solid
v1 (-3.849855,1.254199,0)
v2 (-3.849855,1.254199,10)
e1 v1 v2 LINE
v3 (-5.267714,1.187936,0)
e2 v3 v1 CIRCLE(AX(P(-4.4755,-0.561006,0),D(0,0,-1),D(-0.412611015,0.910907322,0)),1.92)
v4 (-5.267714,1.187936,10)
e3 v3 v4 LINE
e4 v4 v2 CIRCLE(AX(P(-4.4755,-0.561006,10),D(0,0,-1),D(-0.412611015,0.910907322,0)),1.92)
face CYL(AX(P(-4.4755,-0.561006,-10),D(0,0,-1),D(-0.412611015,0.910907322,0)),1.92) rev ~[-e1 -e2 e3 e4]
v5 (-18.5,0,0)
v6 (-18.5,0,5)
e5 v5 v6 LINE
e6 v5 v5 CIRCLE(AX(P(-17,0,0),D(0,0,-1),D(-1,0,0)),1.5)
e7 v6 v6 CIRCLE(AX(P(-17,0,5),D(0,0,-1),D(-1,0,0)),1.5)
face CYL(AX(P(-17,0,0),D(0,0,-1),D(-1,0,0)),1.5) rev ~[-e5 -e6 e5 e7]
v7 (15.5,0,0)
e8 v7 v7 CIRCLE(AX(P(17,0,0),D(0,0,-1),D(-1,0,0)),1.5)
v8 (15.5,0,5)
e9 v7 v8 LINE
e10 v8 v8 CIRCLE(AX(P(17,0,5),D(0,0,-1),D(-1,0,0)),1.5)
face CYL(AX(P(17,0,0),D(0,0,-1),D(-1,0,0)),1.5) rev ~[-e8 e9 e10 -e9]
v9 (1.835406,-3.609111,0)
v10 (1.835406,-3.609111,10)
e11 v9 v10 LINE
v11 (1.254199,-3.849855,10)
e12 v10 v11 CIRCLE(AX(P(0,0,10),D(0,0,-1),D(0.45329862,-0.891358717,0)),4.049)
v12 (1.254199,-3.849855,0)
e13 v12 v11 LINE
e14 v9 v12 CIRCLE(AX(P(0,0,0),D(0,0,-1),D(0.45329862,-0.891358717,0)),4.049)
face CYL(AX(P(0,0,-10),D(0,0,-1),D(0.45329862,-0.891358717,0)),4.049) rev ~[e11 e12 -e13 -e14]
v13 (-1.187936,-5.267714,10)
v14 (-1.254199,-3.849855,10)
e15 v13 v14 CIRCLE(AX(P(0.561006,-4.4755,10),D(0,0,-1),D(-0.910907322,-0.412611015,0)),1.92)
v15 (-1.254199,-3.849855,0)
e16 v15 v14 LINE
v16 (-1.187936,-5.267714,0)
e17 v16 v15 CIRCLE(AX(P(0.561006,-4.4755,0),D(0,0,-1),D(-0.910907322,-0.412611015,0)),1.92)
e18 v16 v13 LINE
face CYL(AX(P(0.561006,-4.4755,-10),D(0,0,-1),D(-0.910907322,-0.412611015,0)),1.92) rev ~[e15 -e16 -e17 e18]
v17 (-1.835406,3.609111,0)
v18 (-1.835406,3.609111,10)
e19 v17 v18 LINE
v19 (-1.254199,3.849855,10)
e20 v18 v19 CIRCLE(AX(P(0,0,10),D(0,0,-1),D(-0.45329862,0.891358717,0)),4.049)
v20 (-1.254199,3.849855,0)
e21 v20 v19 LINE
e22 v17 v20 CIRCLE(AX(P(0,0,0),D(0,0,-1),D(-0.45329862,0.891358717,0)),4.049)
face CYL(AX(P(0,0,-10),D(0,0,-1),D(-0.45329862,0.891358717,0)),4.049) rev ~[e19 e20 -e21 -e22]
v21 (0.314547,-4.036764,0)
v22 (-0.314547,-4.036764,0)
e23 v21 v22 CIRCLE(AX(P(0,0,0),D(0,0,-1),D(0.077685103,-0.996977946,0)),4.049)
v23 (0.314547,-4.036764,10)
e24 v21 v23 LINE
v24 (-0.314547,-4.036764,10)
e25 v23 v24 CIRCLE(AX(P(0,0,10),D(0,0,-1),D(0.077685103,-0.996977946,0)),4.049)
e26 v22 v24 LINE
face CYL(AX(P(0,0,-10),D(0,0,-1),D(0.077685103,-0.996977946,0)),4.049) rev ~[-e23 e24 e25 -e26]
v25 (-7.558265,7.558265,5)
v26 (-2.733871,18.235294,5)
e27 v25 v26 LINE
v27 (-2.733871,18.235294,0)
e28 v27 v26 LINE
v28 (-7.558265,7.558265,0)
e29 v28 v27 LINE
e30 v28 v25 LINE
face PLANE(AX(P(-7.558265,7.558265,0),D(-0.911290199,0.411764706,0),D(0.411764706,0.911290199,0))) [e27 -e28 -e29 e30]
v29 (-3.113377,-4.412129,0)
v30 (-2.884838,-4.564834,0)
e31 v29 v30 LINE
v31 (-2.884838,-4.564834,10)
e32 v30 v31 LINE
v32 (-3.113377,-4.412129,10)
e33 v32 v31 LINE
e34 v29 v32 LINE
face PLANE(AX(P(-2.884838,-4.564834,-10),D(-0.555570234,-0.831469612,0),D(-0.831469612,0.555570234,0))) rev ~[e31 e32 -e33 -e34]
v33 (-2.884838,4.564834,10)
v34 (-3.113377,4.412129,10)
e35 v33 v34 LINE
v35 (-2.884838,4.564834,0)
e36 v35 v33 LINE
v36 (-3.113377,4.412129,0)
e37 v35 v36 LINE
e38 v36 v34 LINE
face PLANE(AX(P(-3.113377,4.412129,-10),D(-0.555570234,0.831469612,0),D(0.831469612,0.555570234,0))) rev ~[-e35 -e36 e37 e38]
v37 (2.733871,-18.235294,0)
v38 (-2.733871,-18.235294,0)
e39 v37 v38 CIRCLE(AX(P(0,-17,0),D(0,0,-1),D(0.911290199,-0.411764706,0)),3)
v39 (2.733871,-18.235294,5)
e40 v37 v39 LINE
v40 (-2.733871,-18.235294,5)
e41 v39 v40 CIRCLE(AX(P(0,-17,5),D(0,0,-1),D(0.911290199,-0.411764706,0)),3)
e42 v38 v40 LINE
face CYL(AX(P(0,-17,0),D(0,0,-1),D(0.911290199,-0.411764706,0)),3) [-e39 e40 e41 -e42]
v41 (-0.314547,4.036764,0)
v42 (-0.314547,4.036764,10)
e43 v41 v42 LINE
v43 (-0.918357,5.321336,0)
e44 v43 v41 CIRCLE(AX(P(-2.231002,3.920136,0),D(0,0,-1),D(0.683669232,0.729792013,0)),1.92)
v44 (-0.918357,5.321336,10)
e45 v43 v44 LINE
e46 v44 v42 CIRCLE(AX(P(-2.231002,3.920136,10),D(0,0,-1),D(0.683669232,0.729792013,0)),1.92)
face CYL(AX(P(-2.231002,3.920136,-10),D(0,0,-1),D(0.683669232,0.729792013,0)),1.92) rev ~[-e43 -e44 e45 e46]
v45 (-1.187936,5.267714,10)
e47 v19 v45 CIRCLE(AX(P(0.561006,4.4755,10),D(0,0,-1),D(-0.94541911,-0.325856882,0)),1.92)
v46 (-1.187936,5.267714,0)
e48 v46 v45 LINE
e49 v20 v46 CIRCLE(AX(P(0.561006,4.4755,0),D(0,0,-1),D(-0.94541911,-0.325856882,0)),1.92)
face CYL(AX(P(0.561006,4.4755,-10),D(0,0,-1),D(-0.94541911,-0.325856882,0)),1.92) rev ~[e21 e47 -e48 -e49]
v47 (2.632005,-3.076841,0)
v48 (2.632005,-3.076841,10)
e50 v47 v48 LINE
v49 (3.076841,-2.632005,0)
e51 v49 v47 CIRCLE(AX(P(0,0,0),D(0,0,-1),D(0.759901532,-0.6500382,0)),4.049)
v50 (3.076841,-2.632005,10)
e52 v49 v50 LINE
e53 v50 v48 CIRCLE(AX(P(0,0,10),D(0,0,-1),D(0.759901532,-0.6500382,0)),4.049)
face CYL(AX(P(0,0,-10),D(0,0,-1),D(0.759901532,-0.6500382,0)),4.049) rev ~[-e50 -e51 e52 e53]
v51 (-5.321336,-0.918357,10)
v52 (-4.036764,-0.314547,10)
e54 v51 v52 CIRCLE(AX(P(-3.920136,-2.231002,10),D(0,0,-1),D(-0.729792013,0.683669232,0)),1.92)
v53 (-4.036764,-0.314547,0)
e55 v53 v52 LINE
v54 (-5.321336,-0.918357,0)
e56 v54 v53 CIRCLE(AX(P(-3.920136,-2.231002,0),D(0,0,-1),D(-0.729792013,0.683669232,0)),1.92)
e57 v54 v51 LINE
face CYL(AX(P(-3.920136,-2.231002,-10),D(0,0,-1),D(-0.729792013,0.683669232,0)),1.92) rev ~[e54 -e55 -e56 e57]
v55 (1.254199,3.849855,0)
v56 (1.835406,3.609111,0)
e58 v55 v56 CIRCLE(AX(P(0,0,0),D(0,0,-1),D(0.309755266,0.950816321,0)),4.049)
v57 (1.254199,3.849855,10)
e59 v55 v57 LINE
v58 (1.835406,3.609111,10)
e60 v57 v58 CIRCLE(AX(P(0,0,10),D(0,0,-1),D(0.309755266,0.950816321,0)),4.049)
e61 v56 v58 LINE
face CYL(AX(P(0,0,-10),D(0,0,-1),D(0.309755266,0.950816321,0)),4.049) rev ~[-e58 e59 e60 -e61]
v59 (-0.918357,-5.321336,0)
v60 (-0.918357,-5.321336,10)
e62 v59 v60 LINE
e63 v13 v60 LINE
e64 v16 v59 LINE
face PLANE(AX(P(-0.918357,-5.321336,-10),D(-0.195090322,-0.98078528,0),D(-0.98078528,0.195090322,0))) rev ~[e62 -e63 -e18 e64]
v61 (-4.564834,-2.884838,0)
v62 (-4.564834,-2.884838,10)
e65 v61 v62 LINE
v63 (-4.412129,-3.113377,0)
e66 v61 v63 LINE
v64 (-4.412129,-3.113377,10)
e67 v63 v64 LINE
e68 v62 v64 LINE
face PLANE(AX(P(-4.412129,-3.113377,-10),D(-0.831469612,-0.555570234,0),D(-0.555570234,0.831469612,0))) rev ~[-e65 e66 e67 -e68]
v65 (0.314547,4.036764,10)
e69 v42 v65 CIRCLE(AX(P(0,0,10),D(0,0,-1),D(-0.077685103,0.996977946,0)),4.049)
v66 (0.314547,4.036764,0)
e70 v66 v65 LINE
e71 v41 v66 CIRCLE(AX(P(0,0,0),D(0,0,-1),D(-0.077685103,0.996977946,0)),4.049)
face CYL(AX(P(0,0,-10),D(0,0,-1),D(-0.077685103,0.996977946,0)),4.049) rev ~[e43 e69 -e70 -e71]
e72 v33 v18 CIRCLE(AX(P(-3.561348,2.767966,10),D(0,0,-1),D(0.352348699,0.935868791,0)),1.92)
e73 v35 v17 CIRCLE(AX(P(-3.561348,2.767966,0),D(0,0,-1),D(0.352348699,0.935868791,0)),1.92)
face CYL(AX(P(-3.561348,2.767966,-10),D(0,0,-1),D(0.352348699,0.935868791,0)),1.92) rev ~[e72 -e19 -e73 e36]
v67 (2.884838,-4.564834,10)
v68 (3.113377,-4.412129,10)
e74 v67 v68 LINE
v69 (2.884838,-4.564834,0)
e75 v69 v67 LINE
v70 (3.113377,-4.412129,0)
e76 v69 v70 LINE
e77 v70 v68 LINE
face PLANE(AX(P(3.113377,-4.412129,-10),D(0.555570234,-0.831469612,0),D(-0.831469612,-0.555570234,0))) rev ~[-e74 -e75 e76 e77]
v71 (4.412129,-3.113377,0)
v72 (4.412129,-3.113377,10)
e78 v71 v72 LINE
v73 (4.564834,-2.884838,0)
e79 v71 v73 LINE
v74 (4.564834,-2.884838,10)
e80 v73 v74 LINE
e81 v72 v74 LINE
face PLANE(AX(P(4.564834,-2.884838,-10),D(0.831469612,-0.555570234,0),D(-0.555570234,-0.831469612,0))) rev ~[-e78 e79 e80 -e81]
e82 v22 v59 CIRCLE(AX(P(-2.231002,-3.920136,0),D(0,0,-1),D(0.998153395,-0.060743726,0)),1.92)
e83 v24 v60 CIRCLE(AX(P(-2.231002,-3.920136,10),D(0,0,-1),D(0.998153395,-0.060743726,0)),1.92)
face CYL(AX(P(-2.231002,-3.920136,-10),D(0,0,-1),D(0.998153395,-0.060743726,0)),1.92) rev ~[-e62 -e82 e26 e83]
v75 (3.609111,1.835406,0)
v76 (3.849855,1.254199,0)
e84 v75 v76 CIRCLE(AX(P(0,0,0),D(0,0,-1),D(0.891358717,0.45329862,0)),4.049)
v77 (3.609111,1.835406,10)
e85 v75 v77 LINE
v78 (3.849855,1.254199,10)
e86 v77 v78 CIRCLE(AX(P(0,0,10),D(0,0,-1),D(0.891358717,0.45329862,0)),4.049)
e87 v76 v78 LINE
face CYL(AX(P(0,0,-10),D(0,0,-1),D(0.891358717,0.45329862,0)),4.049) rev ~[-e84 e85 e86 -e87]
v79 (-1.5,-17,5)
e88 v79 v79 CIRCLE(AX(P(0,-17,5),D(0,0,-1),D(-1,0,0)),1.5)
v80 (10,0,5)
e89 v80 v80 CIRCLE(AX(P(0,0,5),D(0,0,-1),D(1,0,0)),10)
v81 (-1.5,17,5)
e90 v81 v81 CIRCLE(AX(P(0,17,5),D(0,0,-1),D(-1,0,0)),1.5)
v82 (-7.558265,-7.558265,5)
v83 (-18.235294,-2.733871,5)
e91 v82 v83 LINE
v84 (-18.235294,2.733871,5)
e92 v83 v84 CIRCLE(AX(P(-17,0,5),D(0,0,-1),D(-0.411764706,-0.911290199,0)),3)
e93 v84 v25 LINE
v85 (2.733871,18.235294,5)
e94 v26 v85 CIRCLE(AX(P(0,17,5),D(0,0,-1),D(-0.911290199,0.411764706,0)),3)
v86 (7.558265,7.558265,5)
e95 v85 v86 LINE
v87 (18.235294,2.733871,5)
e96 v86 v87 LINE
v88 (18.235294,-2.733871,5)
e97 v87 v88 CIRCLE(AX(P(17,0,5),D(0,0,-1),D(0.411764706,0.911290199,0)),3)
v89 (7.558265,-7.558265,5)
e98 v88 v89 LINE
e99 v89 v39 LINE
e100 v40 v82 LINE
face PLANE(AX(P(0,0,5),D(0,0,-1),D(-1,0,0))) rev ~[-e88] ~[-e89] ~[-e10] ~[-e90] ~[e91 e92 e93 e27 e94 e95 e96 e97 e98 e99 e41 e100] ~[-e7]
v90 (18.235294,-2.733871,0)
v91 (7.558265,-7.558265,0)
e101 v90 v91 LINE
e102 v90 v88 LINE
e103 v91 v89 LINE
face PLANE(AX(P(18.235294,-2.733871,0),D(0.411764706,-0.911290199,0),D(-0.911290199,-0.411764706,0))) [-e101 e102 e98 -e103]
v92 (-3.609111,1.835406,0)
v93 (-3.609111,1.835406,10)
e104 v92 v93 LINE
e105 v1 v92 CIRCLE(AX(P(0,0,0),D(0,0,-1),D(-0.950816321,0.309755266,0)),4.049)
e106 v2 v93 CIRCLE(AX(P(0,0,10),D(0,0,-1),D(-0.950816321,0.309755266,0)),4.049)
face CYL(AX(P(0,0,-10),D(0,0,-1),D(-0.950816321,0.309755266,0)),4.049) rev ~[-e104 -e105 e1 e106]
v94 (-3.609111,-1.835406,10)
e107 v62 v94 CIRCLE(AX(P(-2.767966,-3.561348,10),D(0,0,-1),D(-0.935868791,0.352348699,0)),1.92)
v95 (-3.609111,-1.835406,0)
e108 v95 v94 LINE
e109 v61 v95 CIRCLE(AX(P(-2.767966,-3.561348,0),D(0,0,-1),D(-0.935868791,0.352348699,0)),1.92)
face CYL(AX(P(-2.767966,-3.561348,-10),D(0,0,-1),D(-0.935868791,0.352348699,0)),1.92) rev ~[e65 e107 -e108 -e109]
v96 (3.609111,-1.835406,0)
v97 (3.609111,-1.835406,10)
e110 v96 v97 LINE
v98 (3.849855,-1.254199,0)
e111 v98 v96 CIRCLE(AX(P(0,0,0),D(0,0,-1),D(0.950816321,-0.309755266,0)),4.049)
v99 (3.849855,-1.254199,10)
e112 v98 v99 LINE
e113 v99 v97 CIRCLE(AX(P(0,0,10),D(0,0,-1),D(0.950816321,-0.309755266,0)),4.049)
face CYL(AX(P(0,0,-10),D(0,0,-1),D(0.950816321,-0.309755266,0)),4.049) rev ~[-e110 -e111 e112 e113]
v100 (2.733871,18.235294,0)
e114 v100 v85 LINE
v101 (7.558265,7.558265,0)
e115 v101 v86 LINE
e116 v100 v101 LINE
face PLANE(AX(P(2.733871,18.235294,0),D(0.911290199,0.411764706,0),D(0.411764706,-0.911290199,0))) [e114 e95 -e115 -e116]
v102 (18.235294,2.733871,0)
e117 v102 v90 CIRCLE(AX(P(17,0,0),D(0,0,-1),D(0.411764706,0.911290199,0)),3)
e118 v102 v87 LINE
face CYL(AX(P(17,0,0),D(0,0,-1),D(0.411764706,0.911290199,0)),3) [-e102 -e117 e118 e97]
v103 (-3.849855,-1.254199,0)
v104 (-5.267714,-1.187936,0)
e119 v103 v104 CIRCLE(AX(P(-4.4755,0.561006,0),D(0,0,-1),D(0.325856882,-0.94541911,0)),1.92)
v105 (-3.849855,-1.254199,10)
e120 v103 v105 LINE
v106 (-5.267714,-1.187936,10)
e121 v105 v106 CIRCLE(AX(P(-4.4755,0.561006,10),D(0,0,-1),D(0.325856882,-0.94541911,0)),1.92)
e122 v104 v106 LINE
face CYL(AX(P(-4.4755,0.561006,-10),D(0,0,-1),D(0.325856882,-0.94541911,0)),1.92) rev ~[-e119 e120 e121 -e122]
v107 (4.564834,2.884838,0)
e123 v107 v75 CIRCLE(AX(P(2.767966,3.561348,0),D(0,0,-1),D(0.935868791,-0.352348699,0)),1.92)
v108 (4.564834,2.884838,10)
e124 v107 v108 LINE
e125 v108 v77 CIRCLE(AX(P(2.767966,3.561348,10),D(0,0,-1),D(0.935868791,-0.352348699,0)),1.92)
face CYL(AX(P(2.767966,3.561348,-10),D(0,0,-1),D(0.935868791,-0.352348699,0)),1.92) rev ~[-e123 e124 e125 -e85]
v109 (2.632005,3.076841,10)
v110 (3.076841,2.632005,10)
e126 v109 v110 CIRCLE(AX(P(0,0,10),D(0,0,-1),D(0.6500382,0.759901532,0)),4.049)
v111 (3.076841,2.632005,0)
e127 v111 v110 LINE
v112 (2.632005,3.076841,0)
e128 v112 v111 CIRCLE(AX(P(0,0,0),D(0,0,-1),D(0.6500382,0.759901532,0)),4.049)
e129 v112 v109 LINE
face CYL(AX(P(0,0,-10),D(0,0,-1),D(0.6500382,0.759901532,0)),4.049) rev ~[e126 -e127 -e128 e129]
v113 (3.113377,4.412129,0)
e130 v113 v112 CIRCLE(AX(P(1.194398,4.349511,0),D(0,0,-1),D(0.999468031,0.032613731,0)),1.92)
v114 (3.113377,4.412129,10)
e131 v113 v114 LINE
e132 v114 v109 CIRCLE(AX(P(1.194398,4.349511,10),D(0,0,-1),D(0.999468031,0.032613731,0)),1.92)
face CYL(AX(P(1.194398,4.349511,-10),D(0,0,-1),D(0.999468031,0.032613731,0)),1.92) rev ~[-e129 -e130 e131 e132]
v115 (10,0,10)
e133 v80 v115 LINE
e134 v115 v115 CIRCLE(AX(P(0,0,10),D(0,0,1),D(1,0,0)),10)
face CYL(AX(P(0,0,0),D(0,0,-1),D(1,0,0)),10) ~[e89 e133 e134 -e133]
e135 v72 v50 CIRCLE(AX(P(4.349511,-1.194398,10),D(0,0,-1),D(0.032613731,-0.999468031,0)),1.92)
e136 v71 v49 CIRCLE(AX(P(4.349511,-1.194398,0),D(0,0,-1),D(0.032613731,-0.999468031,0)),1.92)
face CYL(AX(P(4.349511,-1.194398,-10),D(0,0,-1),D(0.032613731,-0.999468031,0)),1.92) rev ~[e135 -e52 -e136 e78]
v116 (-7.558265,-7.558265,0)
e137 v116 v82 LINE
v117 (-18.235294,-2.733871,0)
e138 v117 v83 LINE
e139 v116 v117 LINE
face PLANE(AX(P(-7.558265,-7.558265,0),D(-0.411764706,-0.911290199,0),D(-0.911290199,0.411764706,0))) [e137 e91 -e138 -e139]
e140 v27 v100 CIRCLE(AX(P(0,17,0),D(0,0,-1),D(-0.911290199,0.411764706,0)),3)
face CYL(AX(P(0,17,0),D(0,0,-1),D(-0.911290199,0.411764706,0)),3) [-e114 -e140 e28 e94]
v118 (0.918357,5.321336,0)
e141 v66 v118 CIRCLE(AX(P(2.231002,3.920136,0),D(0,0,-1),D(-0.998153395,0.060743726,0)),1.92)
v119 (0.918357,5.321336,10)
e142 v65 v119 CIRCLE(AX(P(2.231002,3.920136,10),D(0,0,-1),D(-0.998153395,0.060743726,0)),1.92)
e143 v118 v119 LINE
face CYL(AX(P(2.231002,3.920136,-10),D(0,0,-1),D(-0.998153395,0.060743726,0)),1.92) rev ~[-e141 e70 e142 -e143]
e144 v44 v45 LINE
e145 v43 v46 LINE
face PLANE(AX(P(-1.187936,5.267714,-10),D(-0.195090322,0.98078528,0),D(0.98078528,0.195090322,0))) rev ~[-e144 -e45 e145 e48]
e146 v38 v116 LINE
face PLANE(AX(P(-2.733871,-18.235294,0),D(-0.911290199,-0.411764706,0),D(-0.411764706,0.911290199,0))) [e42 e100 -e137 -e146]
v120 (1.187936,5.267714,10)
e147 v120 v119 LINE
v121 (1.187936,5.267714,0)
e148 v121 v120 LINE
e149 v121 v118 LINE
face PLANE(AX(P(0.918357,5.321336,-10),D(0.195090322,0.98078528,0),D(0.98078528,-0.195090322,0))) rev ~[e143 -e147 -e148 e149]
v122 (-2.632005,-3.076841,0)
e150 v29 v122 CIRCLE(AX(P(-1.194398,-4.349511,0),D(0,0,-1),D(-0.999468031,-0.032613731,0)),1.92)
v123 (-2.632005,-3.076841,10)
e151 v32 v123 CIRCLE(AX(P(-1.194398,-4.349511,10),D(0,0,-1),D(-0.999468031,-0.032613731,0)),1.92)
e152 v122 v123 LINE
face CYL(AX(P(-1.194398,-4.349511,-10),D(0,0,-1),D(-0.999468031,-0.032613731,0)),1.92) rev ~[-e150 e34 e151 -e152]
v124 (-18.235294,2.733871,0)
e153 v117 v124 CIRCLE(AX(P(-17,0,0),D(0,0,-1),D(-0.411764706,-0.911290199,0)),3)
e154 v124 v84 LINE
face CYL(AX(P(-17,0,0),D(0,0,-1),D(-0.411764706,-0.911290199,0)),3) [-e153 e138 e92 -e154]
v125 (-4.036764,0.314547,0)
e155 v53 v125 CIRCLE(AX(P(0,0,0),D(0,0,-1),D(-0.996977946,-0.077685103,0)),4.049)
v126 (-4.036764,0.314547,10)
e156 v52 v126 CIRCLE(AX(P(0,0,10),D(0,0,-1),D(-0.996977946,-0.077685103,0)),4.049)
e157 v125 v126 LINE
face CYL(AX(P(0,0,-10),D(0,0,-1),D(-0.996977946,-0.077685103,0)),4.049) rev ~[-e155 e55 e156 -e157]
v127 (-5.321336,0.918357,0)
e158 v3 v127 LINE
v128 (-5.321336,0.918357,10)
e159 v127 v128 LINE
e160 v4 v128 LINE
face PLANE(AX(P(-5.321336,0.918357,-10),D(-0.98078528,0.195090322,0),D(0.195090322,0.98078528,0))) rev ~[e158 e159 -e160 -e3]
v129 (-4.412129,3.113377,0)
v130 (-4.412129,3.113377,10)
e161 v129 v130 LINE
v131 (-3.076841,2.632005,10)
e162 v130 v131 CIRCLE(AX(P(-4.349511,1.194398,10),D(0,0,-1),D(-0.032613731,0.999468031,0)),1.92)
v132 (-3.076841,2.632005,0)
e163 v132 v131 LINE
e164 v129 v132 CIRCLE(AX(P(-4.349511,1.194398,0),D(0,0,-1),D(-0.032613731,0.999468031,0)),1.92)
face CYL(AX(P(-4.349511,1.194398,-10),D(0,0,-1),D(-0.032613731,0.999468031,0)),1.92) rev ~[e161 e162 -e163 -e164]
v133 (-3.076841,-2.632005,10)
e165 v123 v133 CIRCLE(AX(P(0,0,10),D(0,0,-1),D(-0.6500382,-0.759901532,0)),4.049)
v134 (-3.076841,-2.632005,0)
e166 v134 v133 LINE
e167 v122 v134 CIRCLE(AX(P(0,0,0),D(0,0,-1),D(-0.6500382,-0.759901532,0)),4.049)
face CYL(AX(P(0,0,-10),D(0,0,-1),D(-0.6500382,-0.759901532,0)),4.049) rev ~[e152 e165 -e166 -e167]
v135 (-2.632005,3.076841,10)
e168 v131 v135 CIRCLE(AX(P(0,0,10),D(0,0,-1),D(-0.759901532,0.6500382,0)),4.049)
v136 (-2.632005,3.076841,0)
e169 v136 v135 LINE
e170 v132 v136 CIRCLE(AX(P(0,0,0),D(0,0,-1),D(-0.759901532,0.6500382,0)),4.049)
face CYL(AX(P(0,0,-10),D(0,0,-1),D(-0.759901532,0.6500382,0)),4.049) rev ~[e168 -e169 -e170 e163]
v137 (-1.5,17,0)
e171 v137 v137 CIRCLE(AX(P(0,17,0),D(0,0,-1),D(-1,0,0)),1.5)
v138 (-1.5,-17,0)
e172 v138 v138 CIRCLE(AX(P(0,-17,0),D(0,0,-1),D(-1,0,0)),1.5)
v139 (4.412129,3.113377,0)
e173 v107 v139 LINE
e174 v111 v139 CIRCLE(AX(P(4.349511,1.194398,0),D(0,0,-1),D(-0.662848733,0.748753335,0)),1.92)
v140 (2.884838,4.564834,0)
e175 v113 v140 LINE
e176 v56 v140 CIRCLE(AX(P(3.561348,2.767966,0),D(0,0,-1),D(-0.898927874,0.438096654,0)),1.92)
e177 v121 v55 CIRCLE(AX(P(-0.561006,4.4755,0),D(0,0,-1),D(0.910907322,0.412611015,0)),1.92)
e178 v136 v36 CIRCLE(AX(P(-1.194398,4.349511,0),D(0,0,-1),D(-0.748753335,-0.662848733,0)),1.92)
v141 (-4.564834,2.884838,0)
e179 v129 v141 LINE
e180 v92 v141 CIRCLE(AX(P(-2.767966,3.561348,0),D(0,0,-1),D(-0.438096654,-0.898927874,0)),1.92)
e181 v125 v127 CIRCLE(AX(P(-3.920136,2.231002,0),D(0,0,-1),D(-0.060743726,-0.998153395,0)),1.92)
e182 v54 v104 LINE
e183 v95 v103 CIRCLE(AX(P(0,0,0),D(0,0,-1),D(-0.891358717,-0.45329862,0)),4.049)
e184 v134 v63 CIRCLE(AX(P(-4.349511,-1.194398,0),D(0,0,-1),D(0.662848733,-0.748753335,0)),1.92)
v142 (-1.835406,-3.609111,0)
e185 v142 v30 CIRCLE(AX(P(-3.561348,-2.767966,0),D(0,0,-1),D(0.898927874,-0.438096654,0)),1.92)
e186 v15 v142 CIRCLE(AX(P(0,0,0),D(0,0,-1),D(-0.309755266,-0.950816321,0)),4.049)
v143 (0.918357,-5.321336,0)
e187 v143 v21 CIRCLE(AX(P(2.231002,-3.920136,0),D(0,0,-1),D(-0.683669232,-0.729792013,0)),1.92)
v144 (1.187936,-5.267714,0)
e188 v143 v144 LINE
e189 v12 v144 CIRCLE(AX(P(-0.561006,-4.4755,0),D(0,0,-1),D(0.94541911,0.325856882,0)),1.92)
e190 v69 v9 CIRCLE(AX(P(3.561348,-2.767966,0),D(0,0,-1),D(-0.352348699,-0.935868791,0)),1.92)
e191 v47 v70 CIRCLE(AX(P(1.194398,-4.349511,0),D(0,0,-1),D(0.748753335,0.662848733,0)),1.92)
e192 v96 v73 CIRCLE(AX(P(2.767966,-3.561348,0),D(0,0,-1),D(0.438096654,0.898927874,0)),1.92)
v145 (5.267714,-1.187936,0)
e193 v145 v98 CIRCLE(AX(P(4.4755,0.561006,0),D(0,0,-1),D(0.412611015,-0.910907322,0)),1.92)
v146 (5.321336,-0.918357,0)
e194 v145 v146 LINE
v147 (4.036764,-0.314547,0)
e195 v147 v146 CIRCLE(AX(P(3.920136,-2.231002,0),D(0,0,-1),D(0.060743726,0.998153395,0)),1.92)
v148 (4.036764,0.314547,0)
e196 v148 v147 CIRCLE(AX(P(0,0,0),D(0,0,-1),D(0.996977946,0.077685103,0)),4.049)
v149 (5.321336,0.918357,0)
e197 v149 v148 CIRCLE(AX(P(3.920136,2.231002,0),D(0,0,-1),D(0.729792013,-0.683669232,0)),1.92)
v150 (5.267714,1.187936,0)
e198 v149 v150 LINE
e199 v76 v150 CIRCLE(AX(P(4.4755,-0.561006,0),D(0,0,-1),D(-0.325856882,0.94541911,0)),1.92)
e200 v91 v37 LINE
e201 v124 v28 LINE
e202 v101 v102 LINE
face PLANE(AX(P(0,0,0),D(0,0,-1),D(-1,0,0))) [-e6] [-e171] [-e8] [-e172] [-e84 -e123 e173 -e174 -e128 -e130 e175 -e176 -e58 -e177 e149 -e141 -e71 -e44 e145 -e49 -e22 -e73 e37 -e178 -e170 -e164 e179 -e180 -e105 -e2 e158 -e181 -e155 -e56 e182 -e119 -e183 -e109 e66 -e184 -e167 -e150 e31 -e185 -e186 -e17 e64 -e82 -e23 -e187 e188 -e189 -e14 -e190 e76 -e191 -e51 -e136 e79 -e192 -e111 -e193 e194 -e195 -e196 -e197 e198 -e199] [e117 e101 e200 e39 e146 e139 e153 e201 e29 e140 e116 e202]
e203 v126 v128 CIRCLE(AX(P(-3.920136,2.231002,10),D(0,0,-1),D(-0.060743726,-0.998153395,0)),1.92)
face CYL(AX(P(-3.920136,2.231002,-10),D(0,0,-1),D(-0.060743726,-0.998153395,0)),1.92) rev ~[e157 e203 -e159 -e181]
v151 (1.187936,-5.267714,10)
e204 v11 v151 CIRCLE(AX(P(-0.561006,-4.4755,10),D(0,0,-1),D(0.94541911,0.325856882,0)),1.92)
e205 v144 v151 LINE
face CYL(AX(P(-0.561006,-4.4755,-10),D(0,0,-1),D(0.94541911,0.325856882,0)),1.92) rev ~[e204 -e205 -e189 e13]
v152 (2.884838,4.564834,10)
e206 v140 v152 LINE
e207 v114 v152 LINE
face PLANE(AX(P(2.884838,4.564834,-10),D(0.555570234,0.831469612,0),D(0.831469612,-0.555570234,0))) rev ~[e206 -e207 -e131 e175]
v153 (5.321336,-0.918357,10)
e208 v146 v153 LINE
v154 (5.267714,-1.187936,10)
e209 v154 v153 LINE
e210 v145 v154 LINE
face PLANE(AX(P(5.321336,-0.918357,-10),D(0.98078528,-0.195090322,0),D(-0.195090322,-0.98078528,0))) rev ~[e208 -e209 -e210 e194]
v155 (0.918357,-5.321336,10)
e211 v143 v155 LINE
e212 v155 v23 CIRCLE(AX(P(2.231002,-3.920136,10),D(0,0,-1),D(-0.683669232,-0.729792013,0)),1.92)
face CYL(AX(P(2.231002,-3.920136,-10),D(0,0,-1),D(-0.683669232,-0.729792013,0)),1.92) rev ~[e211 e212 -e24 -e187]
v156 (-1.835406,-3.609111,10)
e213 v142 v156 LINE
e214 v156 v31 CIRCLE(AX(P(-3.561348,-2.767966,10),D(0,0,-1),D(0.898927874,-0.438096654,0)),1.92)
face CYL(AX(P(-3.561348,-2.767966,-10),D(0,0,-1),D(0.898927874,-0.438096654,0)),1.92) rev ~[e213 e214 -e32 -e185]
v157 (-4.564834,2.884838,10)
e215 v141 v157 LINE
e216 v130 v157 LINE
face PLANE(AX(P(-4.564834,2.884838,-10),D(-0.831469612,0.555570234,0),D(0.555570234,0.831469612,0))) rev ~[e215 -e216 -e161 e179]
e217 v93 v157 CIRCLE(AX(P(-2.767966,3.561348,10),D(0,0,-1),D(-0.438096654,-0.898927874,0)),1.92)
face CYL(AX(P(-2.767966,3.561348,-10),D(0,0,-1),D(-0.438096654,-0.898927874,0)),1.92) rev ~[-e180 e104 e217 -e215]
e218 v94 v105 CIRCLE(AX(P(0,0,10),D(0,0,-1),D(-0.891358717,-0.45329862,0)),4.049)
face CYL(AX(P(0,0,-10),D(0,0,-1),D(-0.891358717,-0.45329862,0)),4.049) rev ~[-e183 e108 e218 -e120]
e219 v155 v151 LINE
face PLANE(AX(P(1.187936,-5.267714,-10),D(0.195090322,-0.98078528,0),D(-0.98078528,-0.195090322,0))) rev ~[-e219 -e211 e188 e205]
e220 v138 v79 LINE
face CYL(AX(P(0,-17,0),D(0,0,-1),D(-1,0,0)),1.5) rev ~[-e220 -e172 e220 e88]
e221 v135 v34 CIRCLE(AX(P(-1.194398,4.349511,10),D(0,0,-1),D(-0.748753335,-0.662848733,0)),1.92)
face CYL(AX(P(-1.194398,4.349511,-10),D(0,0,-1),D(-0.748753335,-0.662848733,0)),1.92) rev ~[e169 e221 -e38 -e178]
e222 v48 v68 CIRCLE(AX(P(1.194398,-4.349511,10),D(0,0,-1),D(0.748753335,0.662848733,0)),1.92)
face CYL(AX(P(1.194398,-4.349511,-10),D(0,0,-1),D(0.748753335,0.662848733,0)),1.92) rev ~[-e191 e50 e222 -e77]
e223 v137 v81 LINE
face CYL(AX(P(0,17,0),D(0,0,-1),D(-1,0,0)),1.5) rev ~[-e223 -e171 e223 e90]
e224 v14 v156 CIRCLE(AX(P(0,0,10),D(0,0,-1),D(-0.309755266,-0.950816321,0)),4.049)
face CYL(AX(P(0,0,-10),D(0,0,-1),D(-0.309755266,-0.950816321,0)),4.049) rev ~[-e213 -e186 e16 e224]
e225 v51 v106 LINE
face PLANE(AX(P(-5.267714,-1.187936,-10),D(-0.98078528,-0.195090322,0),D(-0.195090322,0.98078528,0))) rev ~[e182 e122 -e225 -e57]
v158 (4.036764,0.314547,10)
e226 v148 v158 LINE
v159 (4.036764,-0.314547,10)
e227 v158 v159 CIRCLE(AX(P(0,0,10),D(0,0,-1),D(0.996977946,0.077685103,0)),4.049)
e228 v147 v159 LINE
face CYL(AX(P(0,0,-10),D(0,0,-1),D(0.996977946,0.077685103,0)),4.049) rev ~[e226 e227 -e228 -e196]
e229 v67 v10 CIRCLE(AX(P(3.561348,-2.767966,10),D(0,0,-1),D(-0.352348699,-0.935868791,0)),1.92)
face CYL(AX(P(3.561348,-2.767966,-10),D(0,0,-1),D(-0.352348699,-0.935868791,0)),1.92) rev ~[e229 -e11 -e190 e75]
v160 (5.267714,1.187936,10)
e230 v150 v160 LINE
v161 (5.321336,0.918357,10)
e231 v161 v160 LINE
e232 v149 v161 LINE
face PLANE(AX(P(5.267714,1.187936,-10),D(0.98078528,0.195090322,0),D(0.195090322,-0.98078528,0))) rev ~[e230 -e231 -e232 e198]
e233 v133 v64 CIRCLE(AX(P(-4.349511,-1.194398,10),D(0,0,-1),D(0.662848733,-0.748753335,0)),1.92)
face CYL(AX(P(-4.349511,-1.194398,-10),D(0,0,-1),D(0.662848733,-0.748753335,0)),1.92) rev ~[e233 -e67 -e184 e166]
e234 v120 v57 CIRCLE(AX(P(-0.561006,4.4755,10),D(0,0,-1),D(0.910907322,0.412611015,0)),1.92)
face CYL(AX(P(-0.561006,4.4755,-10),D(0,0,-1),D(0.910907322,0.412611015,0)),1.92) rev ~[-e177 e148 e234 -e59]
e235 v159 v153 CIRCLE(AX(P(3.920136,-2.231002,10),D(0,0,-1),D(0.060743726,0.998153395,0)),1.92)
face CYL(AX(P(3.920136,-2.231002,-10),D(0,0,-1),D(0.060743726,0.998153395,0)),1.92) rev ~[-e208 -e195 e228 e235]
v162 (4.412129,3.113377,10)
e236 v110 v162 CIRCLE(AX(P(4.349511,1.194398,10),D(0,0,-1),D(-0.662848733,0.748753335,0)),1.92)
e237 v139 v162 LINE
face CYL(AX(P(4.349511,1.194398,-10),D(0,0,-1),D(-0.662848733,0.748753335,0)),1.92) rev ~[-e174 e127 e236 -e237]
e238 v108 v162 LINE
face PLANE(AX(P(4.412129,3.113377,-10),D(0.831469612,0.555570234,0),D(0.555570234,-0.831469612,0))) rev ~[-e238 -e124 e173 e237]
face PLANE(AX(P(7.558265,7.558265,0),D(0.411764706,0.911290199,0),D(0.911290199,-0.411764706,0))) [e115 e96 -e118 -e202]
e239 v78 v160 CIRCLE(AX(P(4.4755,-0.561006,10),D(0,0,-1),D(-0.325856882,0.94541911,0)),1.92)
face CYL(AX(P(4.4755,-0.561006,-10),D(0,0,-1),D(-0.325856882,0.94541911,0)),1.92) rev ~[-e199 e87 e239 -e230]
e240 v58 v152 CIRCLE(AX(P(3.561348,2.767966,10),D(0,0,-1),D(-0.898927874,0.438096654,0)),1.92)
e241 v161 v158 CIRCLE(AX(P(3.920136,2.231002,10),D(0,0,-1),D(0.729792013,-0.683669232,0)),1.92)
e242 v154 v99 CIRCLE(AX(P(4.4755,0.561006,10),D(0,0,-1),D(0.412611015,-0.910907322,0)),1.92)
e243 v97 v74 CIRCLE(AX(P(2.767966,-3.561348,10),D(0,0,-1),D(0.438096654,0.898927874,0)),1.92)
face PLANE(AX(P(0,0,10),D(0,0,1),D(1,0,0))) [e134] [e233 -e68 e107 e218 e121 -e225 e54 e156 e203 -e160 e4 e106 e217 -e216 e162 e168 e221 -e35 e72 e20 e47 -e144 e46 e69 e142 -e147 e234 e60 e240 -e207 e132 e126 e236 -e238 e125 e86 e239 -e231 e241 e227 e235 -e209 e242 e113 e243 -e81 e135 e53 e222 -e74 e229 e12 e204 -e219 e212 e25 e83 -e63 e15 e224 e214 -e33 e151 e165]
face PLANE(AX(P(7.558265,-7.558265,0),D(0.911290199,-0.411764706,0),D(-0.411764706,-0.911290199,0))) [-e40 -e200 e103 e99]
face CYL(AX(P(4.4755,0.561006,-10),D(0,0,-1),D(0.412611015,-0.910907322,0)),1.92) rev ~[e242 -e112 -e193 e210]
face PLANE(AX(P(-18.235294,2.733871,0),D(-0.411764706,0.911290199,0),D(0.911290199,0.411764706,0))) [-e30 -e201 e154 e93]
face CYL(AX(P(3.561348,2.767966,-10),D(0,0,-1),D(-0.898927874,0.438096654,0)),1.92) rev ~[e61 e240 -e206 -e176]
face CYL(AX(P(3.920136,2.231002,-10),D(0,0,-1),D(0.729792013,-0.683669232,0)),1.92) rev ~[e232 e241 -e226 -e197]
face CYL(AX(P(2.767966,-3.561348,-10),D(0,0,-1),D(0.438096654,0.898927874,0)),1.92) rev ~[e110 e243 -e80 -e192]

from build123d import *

# Parameters (mm, degrees)
CROQUIS1_R                 = 10
CROQUIS1_R_2               = 2
SALIENTE_EXTRUIR1_DEPTH    = 10
CORTAR_EXTRUIR1_DEPTH      = 10
CORTAR_EXTRUIR1_DEPTH_BACK = 20
CROQUIS3_R                 = 1.5
CROQUIS3_R_2               = 10
SALIENTE_EXTRUIR2_DEPTH    = 5


with BuildPart() as part:
    # Croquis1 → Saliente-Extruir1 (new body)
    with BuildSketch(Plane.XY):
        Circle(CROQUIS1_R)
        Circle(CROQUIS1_R_2, mode=Mode.SUBTRACT)
    extrude(amount=SALIENTE_EXTRUIR1_DEPTH)

    # Croquis2 → Cortar-Extruir1 (cut, two sides: drawn at the far end of the back side and taken through both)
    with BuildSketch(Plane.XY.offset(10).offset(-CORTAR_EXTRUIR1_DEPTH_BACK)):
        with BuildLine():
            Line((0.91835658, 5.32133641), (1.187936434, 5.267713643))
            ThreePointArc((1.187936434, 5.267713643), (1.356901071, 4.56513254), (1.254199065, 3.849855284))
            ThreePointArc((1.254199065, 3.849855284), (1.549485218, 3.740788227), (1.835406113, 3.609111442))
            ThreePointArc((1.835406113, 3.609111442), (2.268562227, 4.187510125), (2.88483813, 4.564833947))
            Line((2.88483813, 4.564833947), (3.113376895, 4.412129226))
            ThreePointArc((3.113376895, 4.412129226), (3.000613717, 3.698368958), (2.63200468, 3.076841296))
            ThreePointArc((2.63200468, 3.076841296), (2.863075357, 2.863075357), (3.076841296, 2.63200468))
            ThreePointArc((3.076841296, 2.63200468), (3.698368958, 3.000613717), (4.412129226, 3.113376895))
            Line((4.412129226, 3.113376895), (4.564833947, 2.88483813))
            ThreePointArc((4.564833947, 2.88483813), (4.187510125, 2.268562227), (3.609111442, 1.835406113))
            ThreePointArc((3.609111442, 1.835406113), (3.740788227, 1.549485218), (3.849855284, 1.254199065))
            ThreePointArc((3.849855284, 1.254199065), (4.56513254, 1.356901071), (5.267713643, 1.187936434))
            Line((5.267713643, 1.187936434), (5.32133641, 0.91835658))
            ThreePointArc((5.32133641, 0.91835658), (4.736896076, 0.493387462), (4.036763703, 0.314546988))
            ThreePointArc((4.036763703, 0.314546988), (4.049, 0), (4.036763703, -0.314546988))
            ThreePointArc((4.036763703, -0.314546988), (4.736896076, -0.493387462), (5.32133641, -0.91835658))
            Line((5.32133641, -0.91835658), (5.267713643, -1.187936434))
            ThreePointArc((5.267713643, -1.187936434), (4.56513254, -1.356901071), (3.849855284, -1.254199065))
            ThreePointArc((3.849855284, -1.254199065), (3.740788227, -1.549485218), (3.609111442, -1.835406113))
            ThreePointArc((3.609111442, -1.835406113), (4.187510125, -2.268562227), (4.564833947, -2.88483813))
            Line((4.564833947, -2.88483813), (4.412129226, -3.113376895))
            ThreePointArc((4.412129226, -3.113376895), (3.698368958, -3.000613717), (3.076841296, -2.63200468))
            ThreePointArc((3.076841296, -2.63200468), (2.863075357, -2.863075357), (2.63200468, -3.076841296))
            ThreePointArc((2.63200468, -3.076841296), (3.000613717, -3.698368958), (3.113376895, -4.412129226))
            Line((3.113376895, -4.412129226), (2.88483813, -4.564833947))
            ThreePointArc((2.88483813, -4.564833947), (2.268562227, -4.187510125), (1.835406113, -3.609111442))
            ThreePointArc((1.835406113, -3.609111442), (1.549485218, -3.740788227), (1.254199065, -3.849855284))
            ThreePointArc((1.254199065, -3.849855284), (1.356901071, -4.56513254), (1.187936434, -5.267713643))
            Line((1.187936434, -5.267713643), (0.91835658, -5.32133641))
            ThreePointArc((0.91835658, -5.32133641), (0.493387462, -4.736896076), (0.314546988, -4.036763703))
            ThreePointArc((0.314546988, -4.036763703), (0, -4.049), (-0.314546988, -4.036763703))
            ThreePointArc((-0.314546988, -4.036763703), (-0.493387462, -4.736896076), (-0.91835658, -5.32133641))
            Line((-0.91835658, -5.32133641), (-1.187936434, -5.267713643))
            ThreePointArc((-1.187936434, -5.267713643), (-1.356901071, -4.56513254), (-1.254199065, -3.849855284))
            ThreePointArc((-1.254199065, -3.849855284), (-1.549485218, -3.740788227), (-1.835406113, -3.609111442))
            ThreePointArc((-1.835406113, -3.609111442), (-2.268562227, -4.187510125), (-2.88483813, -4.564833947))
            Line((-2.88483813, -4.564833947), (-3.113376895, -4.412129226))
            ThreePointArc((-3.113376895, -4.412129226), (-3.000613717, -3.698368958), (-2.63200468, -3.076841296))
            ThreePointArc((-2.63200468, -3.076841296), (-2.863075357, -2.863075357), (-3.076841296, -2.63200468))
            ThreePointArc((-3.076841296, -2.63200468), (-3.698368958, -3.000613717), (-4.412129226, -3.113376895))
            Line((-4.412129226, -3.113376895), (-4.564833947, -2.88483813))
            ThreePointArc((-4.564833947, -2.88483813), (-4.187510125, -2.268562227), (-3.609111442, -1.835406113))
            ThreePointArc((-3.609111442, -1.835406113), (-3.740788227, -1.549485218), (-3.849855284, -1.254199065))
            ThreePointArc((-3.849855284, -1.254199065), (-4.56513254, -1.356901071), (-5.267713643, -1.187936434))
            Line((-5.267713643, -1.187936434), (-5.32133641, -0.91835658))
            ThreePointArc((-5.32133641, -0.91835658), (-4.736896076, -0.493387462), (-4.036763703, -0.314546988))
            ThreePointArc((-4.036763703, -0.314546988), (-4.049, 0), (-4.036763703, 0.314546988))
            ThreePointArc((-4.036763703, 0.314546988), (-4.736896076, 0.493387462), (-5.32133641, 0.91835658))
            Line((-5.32133641, 0.91835658), (-5.267713643, 1.187936434))
            ThreePointArc((-5.267713643, 1.187936434), (-4.56513254, 1.356901071), (-3.849855284, 1.254199065))
            ThreePointArc((-3.849855284, 1.254199065), (-3.740788227, 1.549485218), (-3.609111442, 1.835406113))
            ThreePointArc((-3.609111442, 1.835406113), (-4.187510125, 2.268562227), (-4.564833947, 2.88483813))
            Line((-4.564833947, 2.88483813), (-4.412129226, 3.113376895))
            ThreePointArc((-4.412129226, 3.113376895), (-3.698368958, 3.000613717), (-3.076841296, 2.63200468))
            ThreePointArc((-3.076841296, 2.63200468), (-2.863075357, 2.863075357), (-2.63200468, 3.076841296))
            ThreePointArc((-2.63200468, 3.076841296), (-3.000613717, 3.698368958), (-3.113376895, 4.412129226))
            Line((-3.113376895, 4.412129226), (-2.88483813, 4.564833947))
            ThreePointArc((-2.88483813, 4.564833947), (-2.268562227, 4.187510125), (-1.835406113, 3.609111442))
            ThreePointArc((-1.835406113, 3.609111442), (-1.549485218, 3.740788227), (-1.254199065, 3.849855284))
            ThreePointArc((-1.254199065, 3.849855284), (-1.356901071, 4.56513254), (-1.187936434, 5.267713643))
            Line((-1.187936434, 5.267713643), (-0.91835658, 5.32133641))
            ThreePointArc((-0.91835658, 5.32133641), (-0.493387462, 4.736896076), (-0.314546988, 4.036763703))
            ThreePointArc((-0.314546988, 4.036763703), (0, 4.049), (0.314546988, 4.036763703))
            ThreePointArc((0.314546988, 4.036763703), (0.493387462, 4.736896076), (0.91835658, 5.32133641))
        make_face()
    extrude(amount=CORTAR_EXTRUIR1_DEPTH + CORTAR_EXTRUIR1_DEPTH_BACK, mode=Mode.SUBTRACT)

    # Croquis3 → Saliente-Extruir2 (add)
    with BuildSketch(Plane(origin=(0, 0, 0), x_dir=(-1, 0, 0), z_dir=(0, 0, -1))):
        with BuildLine():
            Line((-2.733870597, 18.235294118), (-7.558265316, 7.558265316))
            Line((-7.558265316, 7.558265316), (-18.235294118, 2.733870597))
            ThreePointArc((-18.235294118, 2.733870597), (-20, 0), (-18.235294118, -2.733870597))
            Line((-18.235294118, -2.733870597), (-7.558265316, -7.558265316))
            Line((-7.558265316, -7.558265316), (-2.733870597, -18.235294118))
            ThreePointArc((-2.733870597, -18.235294118), (0, -20), (2.733870597, -18.235294118))
            Line((2.733870597, -18.235294118), (7.558265316, -7.558265316))
            Line((7.558265316, -7.558265316), (18.235294118, -2.733870597))
            ThreePointArc((18.235294118, -2.733870597), (20, 0), (18.235294118, 2.733870597))
            Line((18.235294118, 2.733870597), (7.558265316, 7.558265316))
            Line((7.558265316, 7.558265316), (2.733870597, 18.235294118))
            ThreePointArc((2.733870597, 18.235294118), (0, 20), (-2.733870597, 18.235294118))
        make_face()
        with Locations((0, 17)):
            Circle(CROQUIS3_R, mode=Mode.SUBTRACT)
        with Locations((17, 0)):
            Circle(CROQUIS3_R, mode=Mode.SUBTRACT)
        Circle(CROQUIS3_R_2, mode=Mode.SUBTRACT)
        with Locations((0, -17)):
            Circle(CROQUIS3_R, mode=Mode.SUBTRACT)
        with Locations((-17, 0)):
            Circle(CROQUIS3_R, mode=Mode.SUBTRACT)
    extrude(amount=-SALIENTE_EXTRUIR2_DEPTH)


solid = part.part
